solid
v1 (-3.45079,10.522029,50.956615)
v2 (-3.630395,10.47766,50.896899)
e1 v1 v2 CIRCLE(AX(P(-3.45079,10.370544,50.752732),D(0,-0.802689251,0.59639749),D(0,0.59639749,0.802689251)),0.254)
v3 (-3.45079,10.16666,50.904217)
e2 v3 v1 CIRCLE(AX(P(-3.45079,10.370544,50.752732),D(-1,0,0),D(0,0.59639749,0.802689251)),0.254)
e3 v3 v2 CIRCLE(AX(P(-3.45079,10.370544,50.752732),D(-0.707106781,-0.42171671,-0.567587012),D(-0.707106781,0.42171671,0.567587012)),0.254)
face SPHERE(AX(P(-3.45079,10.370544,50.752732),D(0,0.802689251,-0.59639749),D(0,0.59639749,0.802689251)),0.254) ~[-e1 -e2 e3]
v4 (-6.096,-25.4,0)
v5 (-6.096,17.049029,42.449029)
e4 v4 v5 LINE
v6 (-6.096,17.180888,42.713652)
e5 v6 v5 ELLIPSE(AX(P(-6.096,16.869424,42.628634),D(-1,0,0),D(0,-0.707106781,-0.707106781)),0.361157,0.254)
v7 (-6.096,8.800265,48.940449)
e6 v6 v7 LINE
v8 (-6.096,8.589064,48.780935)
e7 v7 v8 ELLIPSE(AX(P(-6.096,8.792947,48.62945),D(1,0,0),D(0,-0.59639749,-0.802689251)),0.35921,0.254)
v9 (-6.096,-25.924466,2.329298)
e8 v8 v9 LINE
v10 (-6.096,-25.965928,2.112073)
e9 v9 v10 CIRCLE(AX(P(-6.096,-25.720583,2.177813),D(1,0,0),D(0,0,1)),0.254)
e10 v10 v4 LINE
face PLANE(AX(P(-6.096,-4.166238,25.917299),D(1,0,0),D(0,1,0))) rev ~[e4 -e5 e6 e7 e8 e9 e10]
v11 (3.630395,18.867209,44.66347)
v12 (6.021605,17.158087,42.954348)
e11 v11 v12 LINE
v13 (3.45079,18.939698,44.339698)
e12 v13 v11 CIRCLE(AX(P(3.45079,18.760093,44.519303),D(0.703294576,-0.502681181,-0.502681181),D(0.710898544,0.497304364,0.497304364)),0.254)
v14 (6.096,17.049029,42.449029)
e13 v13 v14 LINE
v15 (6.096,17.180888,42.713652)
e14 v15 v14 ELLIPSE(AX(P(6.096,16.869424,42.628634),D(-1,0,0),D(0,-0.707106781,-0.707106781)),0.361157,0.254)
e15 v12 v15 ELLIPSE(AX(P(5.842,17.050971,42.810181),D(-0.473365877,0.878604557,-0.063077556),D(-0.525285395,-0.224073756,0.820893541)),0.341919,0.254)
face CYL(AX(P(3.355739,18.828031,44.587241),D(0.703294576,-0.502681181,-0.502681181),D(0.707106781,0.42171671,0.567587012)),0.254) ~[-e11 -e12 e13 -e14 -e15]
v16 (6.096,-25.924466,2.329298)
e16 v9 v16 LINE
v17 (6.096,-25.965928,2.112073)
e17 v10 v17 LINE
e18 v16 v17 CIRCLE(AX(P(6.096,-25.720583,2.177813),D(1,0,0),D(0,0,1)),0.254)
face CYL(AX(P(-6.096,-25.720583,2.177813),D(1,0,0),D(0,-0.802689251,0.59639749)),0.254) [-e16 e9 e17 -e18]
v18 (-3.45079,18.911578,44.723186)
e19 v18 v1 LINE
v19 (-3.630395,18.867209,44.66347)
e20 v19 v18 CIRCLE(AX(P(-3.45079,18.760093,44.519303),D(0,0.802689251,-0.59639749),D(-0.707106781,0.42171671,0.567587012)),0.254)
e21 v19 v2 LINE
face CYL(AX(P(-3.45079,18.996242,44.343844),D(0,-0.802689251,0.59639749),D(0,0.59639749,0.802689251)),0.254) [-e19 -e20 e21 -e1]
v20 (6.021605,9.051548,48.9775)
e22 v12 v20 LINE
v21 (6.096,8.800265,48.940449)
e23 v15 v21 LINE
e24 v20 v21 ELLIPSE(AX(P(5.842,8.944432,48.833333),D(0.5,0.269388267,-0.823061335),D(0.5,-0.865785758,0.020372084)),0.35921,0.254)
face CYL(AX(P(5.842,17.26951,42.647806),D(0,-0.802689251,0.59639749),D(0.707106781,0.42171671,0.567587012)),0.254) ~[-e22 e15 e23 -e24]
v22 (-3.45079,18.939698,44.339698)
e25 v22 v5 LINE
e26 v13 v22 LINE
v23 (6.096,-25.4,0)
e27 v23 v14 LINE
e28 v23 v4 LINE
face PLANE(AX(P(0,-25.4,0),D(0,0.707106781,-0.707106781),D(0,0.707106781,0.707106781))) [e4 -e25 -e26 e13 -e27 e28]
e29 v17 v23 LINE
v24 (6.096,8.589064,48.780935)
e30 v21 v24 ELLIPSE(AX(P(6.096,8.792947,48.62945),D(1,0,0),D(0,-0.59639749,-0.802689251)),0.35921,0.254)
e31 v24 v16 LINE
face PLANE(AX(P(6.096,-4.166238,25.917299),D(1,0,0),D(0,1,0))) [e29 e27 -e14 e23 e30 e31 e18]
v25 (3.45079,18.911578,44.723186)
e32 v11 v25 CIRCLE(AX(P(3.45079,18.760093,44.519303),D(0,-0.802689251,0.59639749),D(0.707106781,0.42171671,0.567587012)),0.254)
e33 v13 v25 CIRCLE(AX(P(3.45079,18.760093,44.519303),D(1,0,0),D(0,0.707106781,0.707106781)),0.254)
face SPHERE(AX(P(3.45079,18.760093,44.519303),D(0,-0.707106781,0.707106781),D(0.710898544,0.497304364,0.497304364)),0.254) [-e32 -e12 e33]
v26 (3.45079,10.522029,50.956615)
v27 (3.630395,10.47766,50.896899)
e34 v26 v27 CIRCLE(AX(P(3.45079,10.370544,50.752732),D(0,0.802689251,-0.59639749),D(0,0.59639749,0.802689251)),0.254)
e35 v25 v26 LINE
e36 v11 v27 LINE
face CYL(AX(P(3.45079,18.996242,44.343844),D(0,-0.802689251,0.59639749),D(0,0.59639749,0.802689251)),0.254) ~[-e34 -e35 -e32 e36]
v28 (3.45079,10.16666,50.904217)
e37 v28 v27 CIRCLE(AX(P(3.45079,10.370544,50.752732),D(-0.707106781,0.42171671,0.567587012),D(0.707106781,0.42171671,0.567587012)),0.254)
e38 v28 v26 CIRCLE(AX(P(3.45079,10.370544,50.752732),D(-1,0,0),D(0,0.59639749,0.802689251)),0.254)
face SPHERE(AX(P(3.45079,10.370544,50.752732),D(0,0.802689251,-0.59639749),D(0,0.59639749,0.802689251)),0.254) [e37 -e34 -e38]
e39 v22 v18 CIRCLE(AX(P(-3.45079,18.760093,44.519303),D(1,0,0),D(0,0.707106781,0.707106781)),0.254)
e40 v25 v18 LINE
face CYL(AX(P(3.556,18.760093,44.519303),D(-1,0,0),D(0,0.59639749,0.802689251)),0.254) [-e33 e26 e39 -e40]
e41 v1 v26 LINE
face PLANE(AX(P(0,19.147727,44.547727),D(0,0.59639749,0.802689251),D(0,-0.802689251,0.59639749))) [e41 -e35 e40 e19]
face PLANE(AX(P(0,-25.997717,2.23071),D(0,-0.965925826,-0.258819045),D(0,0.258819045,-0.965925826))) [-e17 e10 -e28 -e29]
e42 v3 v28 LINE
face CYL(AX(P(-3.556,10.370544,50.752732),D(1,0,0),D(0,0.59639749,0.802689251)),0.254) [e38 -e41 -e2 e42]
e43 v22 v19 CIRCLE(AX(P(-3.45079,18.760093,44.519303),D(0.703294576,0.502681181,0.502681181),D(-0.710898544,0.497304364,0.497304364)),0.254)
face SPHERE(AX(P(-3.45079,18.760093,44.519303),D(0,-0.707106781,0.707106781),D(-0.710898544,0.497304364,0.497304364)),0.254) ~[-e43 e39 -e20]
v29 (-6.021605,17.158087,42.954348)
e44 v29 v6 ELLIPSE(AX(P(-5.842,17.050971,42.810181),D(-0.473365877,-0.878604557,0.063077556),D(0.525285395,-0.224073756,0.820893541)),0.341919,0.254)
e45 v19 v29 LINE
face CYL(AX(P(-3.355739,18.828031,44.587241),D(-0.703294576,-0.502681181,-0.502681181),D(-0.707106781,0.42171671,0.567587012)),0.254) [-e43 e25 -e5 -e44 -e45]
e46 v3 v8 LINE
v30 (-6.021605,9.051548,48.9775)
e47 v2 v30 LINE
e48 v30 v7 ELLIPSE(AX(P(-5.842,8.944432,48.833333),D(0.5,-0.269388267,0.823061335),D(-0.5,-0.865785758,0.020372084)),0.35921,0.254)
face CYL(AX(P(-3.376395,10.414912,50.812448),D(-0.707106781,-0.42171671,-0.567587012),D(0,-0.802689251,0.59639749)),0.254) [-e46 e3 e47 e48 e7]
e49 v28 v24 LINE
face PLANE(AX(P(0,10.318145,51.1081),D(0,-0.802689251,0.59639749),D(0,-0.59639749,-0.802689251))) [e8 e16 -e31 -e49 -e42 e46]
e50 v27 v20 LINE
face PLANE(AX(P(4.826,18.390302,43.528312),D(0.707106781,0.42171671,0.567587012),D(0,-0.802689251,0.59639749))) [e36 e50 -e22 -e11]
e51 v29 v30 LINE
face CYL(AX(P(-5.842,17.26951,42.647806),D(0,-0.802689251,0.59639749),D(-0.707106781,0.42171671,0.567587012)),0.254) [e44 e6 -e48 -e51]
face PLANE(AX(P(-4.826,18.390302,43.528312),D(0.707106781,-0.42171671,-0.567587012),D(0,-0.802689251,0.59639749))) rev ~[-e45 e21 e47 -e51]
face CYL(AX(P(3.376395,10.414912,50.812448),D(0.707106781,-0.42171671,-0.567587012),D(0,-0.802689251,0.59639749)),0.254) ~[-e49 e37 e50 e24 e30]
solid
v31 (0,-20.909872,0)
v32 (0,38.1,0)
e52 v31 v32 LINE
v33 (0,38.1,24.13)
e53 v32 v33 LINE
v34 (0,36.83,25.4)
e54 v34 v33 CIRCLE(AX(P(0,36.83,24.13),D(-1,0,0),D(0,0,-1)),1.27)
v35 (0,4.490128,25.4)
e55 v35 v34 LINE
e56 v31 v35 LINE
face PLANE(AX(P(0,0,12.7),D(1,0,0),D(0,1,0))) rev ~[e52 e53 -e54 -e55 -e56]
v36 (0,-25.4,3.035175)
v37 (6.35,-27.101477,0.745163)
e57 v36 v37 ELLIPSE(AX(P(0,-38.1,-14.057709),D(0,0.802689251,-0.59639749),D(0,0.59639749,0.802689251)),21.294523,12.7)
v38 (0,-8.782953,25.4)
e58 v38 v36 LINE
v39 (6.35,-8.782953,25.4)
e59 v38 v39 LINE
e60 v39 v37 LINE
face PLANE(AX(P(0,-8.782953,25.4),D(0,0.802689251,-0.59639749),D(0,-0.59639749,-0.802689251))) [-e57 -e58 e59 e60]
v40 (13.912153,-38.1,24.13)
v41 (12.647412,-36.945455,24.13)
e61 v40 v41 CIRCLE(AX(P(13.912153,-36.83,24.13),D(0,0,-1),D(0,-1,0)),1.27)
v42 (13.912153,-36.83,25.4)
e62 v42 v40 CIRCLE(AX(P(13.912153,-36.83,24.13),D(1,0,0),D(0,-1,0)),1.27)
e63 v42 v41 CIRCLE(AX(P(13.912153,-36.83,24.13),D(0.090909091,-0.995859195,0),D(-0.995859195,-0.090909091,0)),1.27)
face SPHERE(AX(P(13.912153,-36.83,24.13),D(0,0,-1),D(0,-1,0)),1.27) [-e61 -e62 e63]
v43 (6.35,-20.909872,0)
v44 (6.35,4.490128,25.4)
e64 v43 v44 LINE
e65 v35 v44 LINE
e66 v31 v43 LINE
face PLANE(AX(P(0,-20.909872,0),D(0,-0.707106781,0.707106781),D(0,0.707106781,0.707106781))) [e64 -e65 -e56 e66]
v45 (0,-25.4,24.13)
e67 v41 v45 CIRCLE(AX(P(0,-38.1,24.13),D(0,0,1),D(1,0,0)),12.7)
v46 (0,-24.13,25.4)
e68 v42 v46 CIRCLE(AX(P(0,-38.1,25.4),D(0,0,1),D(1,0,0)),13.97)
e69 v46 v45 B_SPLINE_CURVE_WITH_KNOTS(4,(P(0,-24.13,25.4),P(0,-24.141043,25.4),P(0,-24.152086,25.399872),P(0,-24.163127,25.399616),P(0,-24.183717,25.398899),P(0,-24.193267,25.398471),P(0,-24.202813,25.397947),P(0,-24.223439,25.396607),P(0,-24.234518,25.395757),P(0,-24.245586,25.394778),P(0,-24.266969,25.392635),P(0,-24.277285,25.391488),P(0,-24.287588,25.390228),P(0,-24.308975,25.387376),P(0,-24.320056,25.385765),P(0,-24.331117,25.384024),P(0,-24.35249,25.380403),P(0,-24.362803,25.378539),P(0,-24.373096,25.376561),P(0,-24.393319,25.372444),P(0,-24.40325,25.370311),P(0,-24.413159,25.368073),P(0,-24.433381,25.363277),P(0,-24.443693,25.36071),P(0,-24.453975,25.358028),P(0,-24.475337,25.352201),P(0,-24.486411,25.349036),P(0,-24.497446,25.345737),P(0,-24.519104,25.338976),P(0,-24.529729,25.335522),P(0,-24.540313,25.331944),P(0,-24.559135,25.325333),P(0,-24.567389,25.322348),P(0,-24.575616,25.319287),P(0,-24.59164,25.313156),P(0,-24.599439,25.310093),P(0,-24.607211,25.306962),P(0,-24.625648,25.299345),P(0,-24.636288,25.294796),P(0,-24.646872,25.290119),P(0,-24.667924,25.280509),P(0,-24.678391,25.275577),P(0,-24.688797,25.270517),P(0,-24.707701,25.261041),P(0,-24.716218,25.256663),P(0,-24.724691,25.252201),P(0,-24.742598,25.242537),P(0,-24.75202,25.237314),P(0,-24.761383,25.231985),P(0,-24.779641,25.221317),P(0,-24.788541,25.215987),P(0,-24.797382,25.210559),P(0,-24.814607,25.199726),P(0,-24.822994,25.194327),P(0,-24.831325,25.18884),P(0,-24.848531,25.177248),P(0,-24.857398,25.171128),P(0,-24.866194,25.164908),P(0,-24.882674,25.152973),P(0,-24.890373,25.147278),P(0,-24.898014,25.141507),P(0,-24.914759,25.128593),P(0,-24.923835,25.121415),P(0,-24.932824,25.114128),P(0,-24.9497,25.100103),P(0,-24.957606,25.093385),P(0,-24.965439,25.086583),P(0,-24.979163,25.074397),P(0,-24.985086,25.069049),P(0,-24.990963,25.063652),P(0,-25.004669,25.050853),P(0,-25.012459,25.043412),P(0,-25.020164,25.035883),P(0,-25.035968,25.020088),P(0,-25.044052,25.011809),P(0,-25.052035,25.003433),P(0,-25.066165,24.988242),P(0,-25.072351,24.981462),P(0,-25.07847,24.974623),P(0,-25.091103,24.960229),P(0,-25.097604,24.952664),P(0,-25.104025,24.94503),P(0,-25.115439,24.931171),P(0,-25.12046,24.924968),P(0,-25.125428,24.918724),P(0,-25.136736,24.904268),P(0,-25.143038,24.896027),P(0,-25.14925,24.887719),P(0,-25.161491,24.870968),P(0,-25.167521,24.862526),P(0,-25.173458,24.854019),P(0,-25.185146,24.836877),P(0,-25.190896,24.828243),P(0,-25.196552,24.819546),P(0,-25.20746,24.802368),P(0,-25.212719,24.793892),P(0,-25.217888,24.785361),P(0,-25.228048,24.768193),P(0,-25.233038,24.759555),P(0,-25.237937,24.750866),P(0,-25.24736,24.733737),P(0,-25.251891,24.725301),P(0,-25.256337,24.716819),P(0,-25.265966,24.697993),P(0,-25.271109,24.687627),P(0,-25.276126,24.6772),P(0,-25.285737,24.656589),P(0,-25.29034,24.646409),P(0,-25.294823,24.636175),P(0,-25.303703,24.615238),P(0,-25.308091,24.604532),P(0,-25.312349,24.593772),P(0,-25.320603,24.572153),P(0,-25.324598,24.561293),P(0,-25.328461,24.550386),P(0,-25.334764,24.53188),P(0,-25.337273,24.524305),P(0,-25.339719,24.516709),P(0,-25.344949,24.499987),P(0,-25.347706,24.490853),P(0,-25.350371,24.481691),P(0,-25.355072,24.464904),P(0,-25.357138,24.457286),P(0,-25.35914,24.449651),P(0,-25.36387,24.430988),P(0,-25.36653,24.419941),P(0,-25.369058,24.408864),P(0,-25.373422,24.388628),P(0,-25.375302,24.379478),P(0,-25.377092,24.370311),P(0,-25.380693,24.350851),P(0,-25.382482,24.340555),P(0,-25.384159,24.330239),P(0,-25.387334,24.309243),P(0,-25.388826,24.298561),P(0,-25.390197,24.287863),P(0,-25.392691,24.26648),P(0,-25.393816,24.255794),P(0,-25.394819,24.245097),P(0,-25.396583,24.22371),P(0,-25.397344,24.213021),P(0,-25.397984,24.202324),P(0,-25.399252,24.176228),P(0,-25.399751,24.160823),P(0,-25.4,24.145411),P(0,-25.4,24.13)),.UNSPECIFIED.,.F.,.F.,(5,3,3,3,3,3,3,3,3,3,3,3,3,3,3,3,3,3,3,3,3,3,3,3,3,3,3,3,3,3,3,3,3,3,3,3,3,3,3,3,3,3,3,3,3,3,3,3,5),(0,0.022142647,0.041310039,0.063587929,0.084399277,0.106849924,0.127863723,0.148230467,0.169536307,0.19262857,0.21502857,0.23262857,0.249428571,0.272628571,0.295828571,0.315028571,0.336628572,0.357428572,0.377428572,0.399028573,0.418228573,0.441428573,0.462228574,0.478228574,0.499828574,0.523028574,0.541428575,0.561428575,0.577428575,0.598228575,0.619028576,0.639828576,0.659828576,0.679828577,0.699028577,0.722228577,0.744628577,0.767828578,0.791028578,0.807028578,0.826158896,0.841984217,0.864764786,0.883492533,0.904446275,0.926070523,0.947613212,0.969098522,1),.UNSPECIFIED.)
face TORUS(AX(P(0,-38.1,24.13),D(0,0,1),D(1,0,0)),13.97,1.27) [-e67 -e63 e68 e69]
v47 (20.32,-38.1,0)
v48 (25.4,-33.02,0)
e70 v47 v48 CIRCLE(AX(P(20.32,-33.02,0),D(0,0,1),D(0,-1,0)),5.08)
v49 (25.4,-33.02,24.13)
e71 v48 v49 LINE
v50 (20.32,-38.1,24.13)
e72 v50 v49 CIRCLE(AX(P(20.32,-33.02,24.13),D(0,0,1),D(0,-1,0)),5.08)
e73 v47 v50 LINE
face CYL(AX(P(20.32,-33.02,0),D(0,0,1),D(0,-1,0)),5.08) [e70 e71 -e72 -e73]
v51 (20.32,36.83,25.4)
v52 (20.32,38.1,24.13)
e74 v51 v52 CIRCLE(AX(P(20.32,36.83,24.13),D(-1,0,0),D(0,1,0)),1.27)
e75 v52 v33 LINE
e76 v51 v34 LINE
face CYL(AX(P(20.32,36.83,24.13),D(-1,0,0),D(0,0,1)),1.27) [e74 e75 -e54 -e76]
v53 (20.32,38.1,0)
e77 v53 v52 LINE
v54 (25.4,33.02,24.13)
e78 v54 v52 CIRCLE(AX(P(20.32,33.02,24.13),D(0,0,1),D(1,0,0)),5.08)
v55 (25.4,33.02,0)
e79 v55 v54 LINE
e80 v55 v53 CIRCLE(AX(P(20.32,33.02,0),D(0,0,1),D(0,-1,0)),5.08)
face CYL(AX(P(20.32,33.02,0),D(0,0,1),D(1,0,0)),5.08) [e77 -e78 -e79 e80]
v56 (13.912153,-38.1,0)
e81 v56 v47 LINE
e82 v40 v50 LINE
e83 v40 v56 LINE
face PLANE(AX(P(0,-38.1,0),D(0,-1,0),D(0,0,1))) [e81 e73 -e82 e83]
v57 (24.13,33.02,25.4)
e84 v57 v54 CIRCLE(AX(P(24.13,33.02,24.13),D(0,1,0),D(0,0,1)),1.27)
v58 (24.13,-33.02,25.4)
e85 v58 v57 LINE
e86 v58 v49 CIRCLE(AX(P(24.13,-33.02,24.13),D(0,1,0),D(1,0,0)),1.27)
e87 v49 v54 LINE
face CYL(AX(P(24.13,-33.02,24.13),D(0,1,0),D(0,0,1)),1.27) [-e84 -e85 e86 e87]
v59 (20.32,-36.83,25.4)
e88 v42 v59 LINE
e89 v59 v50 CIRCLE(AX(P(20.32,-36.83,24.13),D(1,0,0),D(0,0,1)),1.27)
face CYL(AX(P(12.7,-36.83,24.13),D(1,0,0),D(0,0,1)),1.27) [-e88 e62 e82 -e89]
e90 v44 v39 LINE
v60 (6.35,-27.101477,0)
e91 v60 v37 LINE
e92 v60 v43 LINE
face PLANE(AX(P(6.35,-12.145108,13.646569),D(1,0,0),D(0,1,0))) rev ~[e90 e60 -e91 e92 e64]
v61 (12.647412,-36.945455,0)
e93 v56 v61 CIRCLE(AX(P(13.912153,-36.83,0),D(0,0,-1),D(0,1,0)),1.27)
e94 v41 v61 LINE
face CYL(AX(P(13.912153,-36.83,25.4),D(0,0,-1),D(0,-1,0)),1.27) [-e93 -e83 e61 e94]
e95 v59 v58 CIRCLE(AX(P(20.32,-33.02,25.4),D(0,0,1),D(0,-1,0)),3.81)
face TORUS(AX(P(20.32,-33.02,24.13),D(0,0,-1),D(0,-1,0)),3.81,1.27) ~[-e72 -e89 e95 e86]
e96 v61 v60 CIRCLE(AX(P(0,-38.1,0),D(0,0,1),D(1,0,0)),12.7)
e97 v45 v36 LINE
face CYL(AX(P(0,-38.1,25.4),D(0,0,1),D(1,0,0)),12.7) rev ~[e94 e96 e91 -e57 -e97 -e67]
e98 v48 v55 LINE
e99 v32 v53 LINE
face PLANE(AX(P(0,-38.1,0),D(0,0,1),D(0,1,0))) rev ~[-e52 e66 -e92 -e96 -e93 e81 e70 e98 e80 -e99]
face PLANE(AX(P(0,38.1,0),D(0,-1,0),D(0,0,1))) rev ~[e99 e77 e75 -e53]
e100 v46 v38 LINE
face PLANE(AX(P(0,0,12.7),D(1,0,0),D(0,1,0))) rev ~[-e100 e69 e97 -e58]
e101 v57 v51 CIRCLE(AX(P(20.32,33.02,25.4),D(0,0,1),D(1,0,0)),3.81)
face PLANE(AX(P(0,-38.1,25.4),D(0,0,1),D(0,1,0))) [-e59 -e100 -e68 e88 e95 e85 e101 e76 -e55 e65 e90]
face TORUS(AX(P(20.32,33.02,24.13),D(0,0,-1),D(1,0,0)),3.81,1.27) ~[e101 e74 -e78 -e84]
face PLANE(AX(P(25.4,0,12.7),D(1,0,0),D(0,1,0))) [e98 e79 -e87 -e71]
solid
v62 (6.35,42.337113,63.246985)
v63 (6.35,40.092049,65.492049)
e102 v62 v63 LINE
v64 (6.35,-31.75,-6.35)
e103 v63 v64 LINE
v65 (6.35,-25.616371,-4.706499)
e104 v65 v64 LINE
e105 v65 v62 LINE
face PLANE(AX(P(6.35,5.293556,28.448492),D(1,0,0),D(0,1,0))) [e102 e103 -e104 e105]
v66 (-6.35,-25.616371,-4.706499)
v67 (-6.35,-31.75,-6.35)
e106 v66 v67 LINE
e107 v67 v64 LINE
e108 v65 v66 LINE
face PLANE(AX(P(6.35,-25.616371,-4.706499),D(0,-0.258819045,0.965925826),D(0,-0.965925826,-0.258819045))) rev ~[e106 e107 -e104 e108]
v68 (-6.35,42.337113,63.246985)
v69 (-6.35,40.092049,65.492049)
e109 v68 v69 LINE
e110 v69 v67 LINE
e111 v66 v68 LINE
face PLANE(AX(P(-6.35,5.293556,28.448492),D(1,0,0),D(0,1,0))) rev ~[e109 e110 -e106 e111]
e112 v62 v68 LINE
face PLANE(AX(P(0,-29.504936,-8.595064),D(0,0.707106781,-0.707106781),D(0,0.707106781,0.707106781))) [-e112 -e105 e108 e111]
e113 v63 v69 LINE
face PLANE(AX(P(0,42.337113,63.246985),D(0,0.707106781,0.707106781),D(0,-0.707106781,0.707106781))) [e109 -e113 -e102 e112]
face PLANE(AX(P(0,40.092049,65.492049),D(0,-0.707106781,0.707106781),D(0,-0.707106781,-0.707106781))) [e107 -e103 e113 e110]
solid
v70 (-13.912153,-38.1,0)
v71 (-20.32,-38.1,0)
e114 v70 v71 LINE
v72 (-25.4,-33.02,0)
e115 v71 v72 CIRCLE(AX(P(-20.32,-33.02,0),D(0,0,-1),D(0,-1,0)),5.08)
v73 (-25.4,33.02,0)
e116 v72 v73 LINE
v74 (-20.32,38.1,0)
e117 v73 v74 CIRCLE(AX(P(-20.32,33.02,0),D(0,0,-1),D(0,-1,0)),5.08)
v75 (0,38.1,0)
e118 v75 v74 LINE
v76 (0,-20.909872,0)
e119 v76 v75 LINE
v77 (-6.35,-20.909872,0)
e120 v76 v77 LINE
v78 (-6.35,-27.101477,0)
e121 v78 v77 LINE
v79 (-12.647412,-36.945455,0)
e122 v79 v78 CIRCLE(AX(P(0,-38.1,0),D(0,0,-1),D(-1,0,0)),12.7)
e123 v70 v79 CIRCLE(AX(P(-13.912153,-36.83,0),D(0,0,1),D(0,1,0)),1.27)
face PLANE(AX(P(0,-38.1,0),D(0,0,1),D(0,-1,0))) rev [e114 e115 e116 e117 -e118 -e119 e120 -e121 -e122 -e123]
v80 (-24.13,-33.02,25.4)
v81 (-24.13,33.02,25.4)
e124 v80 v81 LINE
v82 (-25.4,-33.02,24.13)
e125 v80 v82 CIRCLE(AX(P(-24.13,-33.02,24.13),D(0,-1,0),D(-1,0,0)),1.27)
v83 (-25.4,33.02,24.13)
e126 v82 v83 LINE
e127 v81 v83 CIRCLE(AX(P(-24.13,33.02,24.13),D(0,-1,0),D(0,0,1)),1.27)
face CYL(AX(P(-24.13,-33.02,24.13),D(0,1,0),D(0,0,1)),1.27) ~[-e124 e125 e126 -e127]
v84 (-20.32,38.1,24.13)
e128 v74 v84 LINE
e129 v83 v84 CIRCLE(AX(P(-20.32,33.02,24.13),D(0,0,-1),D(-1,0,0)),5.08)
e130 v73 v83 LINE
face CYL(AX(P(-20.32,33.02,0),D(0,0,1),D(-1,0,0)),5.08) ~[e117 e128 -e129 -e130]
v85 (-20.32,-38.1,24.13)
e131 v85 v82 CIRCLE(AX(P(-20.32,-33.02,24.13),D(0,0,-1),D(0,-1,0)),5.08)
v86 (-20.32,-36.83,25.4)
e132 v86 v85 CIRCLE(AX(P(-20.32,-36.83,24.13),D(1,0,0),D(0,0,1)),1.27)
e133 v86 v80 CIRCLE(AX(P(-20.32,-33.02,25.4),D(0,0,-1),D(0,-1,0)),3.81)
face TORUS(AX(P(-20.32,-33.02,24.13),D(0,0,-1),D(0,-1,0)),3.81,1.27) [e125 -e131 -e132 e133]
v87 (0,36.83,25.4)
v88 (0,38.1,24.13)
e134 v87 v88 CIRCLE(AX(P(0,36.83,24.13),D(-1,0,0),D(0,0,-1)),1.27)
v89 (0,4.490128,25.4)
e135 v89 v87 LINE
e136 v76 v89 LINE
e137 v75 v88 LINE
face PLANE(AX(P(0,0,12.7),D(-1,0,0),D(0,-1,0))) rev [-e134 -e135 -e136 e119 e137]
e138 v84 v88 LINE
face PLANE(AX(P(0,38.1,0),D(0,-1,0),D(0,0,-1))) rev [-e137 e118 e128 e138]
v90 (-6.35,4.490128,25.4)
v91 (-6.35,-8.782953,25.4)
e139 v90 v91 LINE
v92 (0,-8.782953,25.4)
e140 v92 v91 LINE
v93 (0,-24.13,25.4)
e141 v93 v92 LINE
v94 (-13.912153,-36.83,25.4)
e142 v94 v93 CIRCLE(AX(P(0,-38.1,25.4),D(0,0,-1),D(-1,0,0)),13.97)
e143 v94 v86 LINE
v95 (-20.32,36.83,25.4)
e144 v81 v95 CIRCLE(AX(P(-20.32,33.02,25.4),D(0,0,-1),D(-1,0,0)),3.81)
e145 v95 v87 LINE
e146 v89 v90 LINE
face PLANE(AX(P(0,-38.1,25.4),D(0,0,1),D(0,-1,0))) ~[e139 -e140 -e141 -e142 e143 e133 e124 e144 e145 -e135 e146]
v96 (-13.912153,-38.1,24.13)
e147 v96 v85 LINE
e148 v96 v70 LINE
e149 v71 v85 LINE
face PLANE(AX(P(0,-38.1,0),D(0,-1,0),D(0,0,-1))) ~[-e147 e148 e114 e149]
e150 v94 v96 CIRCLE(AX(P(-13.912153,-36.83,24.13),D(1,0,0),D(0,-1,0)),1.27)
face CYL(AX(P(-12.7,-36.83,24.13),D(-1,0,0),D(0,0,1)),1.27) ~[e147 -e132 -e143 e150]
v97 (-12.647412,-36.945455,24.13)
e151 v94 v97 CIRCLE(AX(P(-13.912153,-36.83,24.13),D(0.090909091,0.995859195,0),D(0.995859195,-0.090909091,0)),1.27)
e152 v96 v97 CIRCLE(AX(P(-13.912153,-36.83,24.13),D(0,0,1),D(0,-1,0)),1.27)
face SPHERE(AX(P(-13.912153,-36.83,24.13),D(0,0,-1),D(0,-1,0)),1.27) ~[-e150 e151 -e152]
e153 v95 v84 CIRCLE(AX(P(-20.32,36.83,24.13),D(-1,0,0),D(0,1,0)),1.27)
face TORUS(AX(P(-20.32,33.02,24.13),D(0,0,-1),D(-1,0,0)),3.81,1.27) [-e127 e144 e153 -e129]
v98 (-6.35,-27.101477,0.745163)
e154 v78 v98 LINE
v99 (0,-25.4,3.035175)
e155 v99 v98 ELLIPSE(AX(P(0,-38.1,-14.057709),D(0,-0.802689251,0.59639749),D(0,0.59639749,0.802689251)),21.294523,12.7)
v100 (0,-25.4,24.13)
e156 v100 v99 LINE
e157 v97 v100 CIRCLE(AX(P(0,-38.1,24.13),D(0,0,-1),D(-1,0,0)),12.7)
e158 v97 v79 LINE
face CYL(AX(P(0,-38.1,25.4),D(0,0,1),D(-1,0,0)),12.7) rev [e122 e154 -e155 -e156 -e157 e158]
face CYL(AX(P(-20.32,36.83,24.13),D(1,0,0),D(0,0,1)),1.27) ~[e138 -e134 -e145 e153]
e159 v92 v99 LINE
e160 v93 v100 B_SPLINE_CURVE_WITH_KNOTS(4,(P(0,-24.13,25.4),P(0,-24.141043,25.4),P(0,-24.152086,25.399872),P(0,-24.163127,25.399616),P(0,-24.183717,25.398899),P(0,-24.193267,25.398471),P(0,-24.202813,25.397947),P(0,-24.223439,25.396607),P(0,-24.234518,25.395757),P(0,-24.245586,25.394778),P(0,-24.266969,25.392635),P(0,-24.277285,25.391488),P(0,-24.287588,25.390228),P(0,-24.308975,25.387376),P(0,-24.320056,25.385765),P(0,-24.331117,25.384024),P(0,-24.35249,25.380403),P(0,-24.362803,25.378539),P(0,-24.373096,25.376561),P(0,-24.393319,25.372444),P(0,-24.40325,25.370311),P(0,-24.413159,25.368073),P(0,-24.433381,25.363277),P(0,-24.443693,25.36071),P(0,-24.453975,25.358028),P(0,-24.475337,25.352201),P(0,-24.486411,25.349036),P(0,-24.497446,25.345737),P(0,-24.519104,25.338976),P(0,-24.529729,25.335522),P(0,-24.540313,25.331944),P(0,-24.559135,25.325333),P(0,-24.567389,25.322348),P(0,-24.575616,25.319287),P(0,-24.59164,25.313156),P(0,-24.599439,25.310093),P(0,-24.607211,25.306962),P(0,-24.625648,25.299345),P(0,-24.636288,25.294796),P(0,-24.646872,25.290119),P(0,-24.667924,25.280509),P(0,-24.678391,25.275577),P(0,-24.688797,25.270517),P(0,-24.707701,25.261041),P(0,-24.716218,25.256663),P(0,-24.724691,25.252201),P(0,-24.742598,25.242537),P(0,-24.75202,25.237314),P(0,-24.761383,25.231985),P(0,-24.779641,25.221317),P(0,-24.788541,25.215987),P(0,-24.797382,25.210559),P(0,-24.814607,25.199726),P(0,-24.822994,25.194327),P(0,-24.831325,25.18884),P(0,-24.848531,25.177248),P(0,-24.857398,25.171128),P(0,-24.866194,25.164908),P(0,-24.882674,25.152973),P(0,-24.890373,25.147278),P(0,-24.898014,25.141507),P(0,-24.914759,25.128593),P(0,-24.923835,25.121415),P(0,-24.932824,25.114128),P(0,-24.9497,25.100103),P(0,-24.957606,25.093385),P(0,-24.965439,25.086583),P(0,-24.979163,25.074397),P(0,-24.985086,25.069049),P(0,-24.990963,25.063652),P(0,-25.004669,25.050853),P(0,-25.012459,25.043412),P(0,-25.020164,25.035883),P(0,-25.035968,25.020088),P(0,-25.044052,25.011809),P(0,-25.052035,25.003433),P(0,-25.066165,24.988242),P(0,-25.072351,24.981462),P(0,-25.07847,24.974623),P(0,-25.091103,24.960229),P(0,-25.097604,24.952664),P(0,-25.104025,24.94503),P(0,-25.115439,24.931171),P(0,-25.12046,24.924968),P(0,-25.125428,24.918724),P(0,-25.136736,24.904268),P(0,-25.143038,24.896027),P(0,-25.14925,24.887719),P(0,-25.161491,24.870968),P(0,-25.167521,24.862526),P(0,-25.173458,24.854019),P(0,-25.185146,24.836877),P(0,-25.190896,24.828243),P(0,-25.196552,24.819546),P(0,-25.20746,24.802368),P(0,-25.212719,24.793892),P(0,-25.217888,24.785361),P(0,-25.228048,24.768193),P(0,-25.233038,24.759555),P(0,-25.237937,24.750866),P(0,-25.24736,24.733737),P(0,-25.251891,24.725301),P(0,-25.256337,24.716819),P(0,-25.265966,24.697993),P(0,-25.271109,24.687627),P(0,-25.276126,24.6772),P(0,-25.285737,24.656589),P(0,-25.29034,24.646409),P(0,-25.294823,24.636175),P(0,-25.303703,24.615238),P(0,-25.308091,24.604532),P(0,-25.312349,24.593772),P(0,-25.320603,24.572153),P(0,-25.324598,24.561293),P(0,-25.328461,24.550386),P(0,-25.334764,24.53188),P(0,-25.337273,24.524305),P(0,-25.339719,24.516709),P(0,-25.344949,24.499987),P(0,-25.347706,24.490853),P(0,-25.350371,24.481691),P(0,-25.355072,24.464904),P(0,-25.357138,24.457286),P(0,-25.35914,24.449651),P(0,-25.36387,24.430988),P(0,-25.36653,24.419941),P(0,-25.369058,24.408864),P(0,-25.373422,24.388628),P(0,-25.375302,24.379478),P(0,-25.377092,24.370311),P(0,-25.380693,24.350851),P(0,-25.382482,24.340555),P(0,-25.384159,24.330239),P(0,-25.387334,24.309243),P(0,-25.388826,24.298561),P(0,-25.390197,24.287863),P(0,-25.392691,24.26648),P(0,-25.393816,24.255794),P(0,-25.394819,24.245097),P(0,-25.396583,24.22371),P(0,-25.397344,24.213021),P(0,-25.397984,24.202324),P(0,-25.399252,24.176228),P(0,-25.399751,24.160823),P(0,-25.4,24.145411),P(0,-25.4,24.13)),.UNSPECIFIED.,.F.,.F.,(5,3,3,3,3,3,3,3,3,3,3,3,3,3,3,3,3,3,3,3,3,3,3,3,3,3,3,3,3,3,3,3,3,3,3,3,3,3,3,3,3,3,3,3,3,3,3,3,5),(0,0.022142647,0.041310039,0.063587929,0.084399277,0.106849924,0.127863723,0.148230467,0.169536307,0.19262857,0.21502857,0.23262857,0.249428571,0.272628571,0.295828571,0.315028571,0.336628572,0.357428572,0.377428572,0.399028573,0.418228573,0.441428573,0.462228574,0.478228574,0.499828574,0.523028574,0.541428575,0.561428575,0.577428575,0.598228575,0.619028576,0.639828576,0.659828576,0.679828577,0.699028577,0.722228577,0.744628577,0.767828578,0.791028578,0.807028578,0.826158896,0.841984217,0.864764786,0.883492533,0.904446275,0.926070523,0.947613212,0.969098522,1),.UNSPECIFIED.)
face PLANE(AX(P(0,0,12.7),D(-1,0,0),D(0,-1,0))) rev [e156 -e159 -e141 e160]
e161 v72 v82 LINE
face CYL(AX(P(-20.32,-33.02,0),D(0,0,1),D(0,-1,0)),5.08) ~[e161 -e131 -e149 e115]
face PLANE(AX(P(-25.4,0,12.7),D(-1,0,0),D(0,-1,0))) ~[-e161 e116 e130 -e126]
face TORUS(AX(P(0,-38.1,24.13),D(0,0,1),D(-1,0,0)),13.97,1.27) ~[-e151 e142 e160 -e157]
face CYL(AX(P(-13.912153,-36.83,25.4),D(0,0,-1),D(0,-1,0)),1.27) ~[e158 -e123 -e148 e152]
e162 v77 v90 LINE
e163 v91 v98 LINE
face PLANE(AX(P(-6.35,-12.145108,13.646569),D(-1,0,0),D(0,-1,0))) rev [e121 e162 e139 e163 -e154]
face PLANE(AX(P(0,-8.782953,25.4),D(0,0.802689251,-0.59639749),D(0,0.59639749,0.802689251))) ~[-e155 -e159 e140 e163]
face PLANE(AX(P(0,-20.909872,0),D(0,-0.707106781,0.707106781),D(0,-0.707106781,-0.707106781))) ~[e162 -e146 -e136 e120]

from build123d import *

# Parameters (mm, degrees)
F0_W      = 76.2
F0_H      = 25.4
F1_DEPTH  = 25.4
F4_DEPTH  = 6.35
F6_DEPTH  = 25.401
F7_R      = 5.08
F8_R      = 1.27
F11_DEPTH = 6.096
F13_SIZE  = 2.54
F14_R     = 0.254
F15_DEPTH = 6.35
F17_DEPTH = 31.751


with BuildPart() as f1:
    # F0 (on Right) → F1 (new body)
    with BuildSketch(Plane.YZ):
        with Locations((0, 12.7)):
            Rectangle(F0_W, F0_H)
    extrude(amount=F1_DEPTH)

    # F3 (on Right) → F4 (cut)
    with BuildSketch(Plane.YZ):
        Polygon((-27.6551328865, 0), (-20.9098719395, 0), (4.4901280605, 25.4), (-8.7829526009, 25.4), align=None)
    extrude(amount=F4_DEPTH, mode=Mode.SUBTRACT)

    # F5 (on face) → F6 (cut, through all)
    with BuildSketch(Plane.XY.offset(25.4)):
        with BuildLine():
            Line((0, -38.1), (12.7, -38.1))
            ThreePointArc((12.7, -38.1), (8.9802561211, -29.1197438789), (0, -25.4))
            Line((0, -25.4), (0, -38.1))
        make_face()
    extrude(amount=-F6_DEPTH, mode=Mode.SUBTRACT)

    # F7
    f7_edges = [f1.edges().sort_by_distance(p)[0] for p in [
        (25.4, -38.1, 12.7),
        (25.4, 38.1, 12.7),
    ]]
    fillet(f7_edges, radius=F7_R)

    # F8
    f8_edges = [f1.edges().sort_by_distance(p)[0] for p in [
        (25.4, 0, 25.4),
        (8.980256, -29.119744, 25.4),
        (12.7, -38.1, 12.7),
    ]]
    fillet(f8_edges, radius=F8_R)


with BuildPart() as f9_1:
    # F9: instance of F1
    add(f1.part.mirror(Plane.YZ))


with BuildPart() as f11:
    # F10 (on Right) → F11 (new body, symmetric)
    with BuildSketch(Plane.YZ):
        Polygon((19.1477272148, 44.5477272148), (10.3181454552, 51.108099609), (-25.9977169814, 2.2307101433), (-25.4, 0), align=None)
    extrude(amount=F11_DEPTH, both=True)

    # F13
    f13_edges = [f11.edges().sort_by_distance(p)[0] for p in [
        (-6.096, 14.732936, 47.827913),
        (6.096, 14.732936, 47.827913),
    ]]
    chamfer(f13_edges, length=F13_SIZE)

    # F14
    f14_edges = [f11.edges().sort_by_distance(p)[0] for p in [
        (0, -25.997717, 2.23071),
        (3.556, 14.732936, 47.827913),
        (6.096, 13.067777, 45.900763),
        (-3.556, 14.732936, 47.827913),
        (-6.096, 13.067777, 45.900763),
        (0, 10.318145, 51.1081),
        (-4.826, 9.560721, 50.088684),
        (4.826, 9.560721, 50.088684),
        (-4.826, 18.239992, 43.639992),
        (4.826, 18.239992, 43.639992),
        (0, 19.147727, 44.547727),
    ]]
    fillet(f14_edges, radius=F14_R)


with BuildPart() as f15:
    # F12 (on Right) → F15 (new body, symmetric)
    with BuildSketch(Plane.YZ):
        Polygon((40.0920489686, 65.4920489686), (-31.75, -6.35), (-29.5049359697, -8.5950640303), (42.3371129988, 63.2469849383), align=None)
    extrude(amount=F15_DEPTH, both=True)

    # F16 (on face) → F17 (cut, through all)
    with BuildSketch(Plane.YZ.offset(6.35)):
        Polygon((-25.6163710031, -4.7064990636), (-31.75, -6.35), (-29.5049359697, -8.5950640303), align=None)
    extrude(amount=-F17_DEPTH, mode=Mode.SUBTRACT)


solid = Compound([f1.part, f9_1.part, f11.part, f15.part])
